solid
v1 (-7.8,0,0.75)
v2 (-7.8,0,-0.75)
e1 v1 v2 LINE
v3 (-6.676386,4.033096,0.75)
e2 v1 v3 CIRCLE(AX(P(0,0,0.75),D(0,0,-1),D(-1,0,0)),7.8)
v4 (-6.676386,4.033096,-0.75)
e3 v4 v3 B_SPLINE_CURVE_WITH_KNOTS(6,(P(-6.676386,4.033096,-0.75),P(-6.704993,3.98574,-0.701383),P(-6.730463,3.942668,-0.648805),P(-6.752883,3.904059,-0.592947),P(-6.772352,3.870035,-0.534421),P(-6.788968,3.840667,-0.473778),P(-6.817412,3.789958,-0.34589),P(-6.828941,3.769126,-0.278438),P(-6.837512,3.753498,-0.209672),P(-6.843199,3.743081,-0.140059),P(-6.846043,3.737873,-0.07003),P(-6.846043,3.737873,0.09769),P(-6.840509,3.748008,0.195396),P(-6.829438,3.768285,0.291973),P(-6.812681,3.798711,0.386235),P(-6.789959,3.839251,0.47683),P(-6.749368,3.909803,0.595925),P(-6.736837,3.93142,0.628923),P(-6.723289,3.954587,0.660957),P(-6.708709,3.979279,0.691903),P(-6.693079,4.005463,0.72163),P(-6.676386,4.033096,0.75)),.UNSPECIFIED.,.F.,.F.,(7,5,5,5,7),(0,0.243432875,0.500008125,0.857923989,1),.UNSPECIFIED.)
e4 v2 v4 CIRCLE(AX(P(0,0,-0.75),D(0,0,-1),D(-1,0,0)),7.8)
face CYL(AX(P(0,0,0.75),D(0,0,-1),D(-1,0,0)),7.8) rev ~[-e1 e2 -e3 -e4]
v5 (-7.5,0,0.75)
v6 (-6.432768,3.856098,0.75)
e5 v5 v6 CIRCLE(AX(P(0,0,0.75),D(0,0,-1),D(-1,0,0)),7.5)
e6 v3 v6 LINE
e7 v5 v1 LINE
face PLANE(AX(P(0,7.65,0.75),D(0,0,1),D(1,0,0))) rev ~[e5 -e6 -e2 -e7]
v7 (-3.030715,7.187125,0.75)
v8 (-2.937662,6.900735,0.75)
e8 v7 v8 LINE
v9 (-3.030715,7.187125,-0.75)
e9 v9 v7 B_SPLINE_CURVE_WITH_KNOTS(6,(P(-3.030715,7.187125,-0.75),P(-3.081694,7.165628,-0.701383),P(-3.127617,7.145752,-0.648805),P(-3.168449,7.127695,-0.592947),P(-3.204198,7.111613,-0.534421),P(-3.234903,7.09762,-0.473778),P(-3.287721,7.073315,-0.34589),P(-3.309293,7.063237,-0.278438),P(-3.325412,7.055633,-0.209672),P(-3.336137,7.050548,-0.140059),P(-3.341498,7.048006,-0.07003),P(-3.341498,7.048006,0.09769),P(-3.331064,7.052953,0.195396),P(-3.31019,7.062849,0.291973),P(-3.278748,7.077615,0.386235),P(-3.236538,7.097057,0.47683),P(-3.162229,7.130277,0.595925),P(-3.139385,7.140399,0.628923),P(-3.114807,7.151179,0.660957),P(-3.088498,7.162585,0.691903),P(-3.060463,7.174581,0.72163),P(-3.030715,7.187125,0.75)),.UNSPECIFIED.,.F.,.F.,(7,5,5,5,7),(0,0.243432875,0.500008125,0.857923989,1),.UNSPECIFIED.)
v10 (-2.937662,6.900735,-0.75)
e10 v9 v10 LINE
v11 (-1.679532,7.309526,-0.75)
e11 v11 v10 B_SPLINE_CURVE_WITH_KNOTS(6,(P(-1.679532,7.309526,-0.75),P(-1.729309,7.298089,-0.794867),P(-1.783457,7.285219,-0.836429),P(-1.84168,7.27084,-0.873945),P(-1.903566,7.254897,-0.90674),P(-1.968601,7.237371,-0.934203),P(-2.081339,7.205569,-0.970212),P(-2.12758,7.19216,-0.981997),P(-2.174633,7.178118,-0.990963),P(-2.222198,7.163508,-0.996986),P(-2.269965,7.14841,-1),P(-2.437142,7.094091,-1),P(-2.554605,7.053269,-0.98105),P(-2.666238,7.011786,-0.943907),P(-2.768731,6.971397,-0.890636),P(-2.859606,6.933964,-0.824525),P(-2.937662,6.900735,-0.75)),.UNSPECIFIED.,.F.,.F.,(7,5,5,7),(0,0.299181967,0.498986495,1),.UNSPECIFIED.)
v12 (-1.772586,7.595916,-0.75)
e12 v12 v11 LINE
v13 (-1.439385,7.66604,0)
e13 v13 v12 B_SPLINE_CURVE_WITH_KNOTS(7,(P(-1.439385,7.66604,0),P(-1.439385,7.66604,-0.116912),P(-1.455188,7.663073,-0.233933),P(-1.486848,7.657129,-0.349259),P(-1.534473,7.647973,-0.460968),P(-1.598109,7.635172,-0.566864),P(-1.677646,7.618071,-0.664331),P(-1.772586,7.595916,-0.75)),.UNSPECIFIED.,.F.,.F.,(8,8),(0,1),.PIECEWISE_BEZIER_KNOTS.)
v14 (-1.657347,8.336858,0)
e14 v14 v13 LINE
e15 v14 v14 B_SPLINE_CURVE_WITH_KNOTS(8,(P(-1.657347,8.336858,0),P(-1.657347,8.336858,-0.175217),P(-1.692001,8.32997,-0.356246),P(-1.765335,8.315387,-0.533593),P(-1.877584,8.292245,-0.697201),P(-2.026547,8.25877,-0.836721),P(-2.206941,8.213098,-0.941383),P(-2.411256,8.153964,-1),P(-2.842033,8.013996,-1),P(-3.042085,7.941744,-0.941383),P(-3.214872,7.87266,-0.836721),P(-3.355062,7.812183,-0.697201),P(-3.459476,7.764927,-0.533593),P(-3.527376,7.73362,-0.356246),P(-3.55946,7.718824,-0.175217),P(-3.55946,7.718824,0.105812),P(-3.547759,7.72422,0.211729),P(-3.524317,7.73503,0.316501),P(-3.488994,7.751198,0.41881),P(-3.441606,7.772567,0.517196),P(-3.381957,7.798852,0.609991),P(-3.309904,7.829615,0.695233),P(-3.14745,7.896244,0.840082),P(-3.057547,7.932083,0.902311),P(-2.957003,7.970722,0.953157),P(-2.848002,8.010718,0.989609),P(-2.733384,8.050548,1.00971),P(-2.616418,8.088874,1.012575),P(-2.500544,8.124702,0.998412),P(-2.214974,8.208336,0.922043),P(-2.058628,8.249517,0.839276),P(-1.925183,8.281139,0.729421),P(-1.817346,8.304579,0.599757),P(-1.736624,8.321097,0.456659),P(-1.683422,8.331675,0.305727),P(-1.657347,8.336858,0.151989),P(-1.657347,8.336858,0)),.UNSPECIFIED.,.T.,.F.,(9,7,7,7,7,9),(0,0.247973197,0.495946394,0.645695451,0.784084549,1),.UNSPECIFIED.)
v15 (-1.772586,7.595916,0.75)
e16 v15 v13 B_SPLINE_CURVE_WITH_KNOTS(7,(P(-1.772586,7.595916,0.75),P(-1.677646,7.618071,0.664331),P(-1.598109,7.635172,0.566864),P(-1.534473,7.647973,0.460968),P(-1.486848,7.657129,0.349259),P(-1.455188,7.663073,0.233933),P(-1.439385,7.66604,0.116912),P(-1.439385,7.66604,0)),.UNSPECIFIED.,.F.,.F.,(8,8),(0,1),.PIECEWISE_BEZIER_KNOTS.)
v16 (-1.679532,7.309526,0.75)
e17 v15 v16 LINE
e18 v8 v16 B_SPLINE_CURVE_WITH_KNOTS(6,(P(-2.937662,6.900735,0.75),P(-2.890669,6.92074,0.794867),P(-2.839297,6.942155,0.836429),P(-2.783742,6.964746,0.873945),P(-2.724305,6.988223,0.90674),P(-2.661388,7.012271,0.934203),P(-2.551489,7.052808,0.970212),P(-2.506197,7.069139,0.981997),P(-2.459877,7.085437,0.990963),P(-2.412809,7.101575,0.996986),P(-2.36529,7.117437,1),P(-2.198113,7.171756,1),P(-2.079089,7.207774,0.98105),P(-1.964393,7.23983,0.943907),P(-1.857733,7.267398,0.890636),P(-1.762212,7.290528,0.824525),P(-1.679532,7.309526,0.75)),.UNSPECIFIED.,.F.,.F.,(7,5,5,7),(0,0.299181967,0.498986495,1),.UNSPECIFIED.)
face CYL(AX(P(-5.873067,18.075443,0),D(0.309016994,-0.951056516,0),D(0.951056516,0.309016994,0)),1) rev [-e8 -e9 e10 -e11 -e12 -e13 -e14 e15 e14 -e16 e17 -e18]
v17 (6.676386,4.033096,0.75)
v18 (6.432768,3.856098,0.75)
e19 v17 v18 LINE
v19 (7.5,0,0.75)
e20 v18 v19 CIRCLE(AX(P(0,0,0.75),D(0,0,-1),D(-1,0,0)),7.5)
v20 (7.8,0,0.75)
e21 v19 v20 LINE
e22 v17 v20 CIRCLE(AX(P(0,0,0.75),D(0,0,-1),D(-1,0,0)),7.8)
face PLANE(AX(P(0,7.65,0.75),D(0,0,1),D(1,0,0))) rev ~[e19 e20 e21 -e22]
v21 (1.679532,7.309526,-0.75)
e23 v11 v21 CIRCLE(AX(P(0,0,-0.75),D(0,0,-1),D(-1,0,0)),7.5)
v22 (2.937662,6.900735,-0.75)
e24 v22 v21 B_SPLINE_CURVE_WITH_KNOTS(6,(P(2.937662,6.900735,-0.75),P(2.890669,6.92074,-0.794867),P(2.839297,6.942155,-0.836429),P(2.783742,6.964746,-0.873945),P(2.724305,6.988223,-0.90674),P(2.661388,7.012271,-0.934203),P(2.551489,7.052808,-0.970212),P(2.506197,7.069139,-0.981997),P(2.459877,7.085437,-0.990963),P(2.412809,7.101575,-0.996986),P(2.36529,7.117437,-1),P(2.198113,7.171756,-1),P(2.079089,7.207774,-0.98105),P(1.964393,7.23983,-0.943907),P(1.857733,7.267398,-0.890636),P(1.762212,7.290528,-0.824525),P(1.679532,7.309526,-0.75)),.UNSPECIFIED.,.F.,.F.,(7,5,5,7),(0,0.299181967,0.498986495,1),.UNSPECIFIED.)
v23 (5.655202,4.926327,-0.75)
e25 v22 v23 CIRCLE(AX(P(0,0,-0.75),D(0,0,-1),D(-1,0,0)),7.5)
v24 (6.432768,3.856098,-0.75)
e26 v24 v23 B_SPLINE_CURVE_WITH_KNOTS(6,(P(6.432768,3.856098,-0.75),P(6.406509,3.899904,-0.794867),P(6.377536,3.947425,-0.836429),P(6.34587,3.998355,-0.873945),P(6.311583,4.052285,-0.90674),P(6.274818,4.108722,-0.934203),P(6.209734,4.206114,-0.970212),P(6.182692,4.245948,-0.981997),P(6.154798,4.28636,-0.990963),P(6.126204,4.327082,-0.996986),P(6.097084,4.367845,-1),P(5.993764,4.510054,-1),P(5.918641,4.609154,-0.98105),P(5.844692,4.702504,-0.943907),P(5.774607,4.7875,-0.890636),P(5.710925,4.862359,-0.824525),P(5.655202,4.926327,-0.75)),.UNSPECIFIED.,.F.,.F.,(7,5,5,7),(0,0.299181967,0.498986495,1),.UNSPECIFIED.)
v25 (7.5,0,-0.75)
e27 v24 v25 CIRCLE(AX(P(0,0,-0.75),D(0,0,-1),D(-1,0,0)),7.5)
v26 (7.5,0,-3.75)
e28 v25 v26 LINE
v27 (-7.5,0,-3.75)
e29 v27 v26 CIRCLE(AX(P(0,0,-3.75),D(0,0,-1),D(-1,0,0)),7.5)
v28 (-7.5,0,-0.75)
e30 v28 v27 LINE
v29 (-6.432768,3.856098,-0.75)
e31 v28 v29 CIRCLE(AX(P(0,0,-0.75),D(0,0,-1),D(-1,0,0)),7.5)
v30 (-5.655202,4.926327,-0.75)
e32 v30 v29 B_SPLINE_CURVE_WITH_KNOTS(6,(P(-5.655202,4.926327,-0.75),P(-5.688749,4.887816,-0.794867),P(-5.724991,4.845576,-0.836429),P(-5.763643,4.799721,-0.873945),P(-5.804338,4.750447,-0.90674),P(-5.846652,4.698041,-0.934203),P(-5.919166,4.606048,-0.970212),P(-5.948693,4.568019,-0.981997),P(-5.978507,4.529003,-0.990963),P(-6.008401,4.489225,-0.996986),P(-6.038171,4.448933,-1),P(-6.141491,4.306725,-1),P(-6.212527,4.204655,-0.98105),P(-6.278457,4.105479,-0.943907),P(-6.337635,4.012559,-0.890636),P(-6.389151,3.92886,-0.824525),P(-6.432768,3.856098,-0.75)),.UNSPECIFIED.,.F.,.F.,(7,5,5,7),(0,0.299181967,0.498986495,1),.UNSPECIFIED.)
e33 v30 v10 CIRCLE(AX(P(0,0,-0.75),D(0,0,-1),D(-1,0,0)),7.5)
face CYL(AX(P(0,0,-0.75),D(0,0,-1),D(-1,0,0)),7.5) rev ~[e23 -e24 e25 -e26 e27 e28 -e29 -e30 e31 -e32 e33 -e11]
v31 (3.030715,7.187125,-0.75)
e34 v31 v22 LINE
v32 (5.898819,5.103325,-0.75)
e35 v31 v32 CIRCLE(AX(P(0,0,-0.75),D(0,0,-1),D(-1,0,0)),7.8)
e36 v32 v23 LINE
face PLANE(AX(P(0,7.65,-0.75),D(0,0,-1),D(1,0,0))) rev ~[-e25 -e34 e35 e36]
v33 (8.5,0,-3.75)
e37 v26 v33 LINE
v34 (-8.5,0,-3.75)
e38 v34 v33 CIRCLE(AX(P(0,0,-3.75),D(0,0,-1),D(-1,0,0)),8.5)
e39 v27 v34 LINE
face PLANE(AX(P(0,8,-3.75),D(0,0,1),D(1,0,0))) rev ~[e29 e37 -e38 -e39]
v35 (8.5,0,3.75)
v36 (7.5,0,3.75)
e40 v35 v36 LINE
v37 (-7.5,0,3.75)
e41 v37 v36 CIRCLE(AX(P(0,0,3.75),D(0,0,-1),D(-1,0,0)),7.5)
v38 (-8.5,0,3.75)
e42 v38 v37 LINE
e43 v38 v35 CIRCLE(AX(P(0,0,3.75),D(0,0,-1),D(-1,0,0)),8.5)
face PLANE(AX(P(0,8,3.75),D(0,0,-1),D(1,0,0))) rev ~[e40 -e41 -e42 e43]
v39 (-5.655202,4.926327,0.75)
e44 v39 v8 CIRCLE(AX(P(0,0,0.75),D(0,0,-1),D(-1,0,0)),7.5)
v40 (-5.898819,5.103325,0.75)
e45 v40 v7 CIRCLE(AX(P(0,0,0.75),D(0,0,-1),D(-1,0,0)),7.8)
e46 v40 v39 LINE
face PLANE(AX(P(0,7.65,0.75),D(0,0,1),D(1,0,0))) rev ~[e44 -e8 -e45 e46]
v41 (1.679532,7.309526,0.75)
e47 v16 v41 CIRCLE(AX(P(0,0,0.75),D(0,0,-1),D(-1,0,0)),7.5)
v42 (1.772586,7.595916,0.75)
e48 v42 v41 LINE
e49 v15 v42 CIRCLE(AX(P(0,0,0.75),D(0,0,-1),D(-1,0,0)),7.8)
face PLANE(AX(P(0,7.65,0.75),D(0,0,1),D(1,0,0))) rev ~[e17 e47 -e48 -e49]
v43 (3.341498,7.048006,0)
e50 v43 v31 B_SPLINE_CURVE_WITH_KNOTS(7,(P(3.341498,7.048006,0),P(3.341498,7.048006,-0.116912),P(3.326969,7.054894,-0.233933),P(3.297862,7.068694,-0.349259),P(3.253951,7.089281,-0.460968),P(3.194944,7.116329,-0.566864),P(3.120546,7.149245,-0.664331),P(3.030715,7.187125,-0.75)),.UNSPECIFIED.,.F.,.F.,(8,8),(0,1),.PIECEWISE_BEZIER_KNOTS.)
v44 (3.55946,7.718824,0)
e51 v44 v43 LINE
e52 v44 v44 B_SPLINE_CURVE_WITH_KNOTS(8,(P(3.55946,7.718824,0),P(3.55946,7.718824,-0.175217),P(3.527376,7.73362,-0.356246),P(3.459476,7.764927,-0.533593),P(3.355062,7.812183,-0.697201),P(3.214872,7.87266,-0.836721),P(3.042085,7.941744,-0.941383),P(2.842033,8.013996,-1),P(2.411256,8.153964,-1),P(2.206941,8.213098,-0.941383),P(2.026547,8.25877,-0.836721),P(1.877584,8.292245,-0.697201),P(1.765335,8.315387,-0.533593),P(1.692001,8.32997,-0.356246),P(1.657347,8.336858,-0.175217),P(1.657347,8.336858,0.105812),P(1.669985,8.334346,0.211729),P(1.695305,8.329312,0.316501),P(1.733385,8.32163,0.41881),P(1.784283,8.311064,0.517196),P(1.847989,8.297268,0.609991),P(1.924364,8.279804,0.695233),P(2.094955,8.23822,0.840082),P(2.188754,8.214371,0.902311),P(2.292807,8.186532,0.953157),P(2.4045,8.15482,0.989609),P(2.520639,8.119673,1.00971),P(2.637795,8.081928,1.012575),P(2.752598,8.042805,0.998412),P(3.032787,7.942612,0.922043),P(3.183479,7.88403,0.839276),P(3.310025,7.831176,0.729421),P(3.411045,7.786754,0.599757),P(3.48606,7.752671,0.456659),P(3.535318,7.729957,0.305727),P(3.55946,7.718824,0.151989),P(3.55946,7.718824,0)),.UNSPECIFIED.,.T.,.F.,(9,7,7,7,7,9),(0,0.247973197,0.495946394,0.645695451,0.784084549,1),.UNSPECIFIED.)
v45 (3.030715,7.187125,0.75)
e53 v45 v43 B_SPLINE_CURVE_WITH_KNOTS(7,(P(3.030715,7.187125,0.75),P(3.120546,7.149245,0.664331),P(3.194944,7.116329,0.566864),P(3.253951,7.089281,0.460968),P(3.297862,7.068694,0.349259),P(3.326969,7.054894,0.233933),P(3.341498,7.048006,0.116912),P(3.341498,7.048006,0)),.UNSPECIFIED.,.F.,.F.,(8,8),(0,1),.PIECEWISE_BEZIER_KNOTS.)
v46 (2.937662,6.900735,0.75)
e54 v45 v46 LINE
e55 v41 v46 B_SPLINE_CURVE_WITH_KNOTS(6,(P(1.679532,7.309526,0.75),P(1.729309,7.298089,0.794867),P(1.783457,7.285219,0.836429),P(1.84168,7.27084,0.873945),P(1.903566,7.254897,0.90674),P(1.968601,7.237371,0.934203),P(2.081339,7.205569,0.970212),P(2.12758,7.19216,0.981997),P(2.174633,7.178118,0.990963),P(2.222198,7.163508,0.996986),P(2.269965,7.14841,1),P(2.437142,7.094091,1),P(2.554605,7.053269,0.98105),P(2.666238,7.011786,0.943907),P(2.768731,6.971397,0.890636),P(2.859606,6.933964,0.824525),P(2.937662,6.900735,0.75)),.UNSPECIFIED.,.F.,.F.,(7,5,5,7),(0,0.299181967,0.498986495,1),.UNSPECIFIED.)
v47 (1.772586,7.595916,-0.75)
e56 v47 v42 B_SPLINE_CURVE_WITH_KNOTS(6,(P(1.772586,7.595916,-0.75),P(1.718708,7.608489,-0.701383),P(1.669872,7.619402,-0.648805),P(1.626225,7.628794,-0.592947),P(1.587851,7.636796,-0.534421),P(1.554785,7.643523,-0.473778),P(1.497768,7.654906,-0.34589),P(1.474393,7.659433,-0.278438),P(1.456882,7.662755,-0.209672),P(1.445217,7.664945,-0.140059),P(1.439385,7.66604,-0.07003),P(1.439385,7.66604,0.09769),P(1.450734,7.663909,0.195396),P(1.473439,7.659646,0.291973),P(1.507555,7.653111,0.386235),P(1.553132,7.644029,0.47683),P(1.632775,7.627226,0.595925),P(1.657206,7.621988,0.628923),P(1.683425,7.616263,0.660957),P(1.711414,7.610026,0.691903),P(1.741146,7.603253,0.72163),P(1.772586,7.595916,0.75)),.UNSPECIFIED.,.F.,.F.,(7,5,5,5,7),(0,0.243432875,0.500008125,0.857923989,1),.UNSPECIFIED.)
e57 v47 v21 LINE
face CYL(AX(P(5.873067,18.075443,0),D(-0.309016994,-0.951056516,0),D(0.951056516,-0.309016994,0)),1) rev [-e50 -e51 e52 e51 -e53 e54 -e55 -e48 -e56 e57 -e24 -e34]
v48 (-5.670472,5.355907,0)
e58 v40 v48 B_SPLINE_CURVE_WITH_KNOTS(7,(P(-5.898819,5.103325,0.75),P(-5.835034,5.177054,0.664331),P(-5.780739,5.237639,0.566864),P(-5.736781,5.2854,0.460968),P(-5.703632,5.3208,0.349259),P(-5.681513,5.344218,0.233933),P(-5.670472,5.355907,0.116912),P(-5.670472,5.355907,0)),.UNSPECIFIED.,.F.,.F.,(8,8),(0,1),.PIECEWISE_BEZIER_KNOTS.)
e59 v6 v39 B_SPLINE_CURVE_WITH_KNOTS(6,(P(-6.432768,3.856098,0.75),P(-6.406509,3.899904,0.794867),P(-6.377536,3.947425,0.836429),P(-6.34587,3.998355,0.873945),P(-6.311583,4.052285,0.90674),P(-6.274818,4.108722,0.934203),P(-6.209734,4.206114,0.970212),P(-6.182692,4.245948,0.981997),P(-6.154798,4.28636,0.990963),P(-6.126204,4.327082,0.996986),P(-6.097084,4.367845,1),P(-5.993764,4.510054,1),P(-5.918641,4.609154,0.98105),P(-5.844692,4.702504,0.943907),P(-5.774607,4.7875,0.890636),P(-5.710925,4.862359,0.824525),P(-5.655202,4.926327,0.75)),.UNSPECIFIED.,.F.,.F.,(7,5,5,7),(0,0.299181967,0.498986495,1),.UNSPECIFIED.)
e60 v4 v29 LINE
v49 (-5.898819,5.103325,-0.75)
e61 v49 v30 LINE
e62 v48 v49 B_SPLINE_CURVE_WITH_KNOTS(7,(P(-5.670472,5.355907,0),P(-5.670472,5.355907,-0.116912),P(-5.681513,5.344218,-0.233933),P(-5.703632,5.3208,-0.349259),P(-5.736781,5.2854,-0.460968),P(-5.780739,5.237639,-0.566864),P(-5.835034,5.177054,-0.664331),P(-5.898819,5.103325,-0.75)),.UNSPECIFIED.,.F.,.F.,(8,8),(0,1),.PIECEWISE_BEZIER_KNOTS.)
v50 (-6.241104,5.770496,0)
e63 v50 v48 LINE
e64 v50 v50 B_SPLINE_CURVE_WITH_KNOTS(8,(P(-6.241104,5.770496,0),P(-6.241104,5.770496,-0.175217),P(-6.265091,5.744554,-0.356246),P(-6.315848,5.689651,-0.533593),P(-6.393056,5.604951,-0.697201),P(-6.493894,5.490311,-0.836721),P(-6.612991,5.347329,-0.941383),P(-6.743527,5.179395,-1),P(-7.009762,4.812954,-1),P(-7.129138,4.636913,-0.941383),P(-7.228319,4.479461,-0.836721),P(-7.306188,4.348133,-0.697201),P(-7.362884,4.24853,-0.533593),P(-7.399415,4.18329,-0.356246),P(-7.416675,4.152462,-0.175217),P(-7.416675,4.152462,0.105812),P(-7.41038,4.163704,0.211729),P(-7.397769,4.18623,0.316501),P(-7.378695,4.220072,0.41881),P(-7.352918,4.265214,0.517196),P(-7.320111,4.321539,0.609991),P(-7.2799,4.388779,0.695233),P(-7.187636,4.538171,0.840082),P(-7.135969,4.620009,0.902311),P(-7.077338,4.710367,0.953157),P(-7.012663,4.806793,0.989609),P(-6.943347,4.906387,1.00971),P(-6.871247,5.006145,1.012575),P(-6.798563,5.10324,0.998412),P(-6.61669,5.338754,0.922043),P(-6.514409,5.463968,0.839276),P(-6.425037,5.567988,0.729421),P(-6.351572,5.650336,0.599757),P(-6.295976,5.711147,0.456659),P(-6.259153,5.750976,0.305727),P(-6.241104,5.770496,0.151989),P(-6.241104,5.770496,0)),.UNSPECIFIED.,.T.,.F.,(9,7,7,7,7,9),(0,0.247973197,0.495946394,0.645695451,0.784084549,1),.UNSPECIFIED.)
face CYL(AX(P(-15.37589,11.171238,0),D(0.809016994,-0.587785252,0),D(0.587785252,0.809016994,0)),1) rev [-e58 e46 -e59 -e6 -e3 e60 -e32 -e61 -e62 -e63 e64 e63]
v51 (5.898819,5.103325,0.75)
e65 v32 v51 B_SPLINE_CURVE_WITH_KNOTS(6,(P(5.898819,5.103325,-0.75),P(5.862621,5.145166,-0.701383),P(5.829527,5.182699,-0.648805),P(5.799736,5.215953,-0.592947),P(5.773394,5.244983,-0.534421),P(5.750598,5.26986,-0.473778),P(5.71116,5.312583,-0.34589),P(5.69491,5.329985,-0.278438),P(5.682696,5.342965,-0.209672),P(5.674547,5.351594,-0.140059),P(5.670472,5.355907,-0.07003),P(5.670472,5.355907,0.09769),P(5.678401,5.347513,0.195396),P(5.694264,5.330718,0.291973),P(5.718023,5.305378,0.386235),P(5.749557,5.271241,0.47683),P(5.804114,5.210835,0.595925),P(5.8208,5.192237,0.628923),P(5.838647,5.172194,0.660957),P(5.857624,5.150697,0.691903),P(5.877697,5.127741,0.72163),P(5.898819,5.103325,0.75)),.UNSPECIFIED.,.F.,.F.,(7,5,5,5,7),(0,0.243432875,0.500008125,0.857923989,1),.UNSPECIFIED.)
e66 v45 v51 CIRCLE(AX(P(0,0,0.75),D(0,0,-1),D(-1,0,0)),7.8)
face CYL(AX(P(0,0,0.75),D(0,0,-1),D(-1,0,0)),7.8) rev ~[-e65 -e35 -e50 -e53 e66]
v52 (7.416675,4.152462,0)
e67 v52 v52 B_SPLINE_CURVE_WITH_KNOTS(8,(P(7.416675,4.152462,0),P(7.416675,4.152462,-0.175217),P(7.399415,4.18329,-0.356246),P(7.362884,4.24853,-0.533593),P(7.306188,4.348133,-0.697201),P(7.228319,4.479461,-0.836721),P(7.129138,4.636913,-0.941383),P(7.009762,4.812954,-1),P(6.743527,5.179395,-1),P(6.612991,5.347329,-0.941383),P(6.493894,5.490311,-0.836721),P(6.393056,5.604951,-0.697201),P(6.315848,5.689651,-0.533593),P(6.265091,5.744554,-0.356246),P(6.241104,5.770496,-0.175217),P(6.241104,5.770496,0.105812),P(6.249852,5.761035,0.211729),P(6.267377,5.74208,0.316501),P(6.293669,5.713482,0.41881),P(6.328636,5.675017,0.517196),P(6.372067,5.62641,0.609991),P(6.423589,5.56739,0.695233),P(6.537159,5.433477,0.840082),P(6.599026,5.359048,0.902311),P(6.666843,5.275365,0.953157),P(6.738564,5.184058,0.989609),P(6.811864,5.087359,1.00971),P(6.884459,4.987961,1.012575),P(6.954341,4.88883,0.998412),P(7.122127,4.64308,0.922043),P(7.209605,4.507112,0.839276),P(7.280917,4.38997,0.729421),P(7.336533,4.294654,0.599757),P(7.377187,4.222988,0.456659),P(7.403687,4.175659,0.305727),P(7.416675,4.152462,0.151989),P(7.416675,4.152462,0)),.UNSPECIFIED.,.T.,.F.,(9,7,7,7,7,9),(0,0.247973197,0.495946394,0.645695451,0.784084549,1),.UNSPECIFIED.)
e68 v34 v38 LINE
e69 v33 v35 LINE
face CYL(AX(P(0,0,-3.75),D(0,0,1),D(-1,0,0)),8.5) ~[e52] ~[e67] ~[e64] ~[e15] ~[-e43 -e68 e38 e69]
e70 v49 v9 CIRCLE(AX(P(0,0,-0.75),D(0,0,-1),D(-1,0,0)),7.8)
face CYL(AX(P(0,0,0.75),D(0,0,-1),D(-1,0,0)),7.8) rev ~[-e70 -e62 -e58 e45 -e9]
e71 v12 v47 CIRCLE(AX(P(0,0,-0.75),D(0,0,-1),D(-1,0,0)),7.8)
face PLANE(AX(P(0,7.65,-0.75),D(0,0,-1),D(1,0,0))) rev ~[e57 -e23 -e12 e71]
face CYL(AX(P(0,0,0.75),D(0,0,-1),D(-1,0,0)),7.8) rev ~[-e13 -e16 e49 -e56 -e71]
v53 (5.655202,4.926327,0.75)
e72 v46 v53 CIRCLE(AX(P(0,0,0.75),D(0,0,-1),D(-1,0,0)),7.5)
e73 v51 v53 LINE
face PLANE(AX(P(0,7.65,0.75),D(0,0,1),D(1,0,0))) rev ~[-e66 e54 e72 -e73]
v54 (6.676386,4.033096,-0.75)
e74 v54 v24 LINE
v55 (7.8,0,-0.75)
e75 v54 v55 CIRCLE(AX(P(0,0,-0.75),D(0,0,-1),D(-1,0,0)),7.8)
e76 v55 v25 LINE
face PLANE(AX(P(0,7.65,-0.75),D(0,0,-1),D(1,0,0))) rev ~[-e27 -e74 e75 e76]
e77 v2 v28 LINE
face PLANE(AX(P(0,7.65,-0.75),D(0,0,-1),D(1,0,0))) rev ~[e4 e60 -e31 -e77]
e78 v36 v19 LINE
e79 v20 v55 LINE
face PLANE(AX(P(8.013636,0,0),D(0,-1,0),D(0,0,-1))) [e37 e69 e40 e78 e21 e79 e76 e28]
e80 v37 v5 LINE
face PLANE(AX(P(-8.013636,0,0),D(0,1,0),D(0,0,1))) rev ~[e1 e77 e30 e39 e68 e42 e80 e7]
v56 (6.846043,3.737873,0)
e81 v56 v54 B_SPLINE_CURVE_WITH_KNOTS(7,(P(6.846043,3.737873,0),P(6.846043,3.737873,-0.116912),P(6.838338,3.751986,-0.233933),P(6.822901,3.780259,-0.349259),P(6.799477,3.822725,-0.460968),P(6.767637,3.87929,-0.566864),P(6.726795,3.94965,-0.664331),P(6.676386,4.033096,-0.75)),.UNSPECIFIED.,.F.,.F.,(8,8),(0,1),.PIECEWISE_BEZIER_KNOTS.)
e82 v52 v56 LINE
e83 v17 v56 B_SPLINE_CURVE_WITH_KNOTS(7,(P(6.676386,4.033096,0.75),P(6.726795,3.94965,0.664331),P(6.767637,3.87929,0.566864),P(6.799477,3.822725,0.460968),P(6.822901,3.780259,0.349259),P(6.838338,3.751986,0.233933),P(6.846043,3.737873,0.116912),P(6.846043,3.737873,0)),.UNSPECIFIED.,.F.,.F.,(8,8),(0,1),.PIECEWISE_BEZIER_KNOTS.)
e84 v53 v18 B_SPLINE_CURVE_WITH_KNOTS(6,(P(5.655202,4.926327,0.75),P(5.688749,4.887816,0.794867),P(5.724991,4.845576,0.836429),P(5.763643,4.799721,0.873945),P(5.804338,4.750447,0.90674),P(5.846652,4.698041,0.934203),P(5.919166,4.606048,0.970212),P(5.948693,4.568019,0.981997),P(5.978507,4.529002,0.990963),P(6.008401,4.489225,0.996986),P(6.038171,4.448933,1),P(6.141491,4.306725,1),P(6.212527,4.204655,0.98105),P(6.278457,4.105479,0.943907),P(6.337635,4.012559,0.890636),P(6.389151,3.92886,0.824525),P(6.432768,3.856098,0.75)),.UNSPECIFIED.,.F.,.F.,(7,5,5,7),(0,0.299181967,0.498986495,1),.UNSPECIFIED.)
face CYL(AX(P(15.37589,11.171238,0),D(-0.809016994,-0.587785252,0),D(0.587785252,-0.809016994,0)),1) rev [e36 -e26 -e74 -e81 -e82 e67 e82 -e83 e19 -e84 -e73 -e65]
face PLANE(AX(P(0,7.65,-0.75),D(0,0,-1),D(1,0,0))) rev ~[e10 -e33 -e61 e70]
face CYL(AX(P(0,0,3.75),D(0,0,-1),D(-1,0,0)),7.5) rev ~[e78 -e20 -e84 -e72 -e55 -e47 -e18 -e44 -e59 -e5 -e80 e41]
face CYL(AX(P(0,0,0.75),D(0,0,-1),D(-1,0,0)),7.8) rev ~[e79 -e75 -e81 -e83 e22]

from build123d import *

# Parameters (mm, degrees)
CIRPATTERN1_COUNT = 4
CIRPATTERN1_ANGLE = 108


with BuildPart() as part:
    # Sweep1: sweep along a path in Sketch1
    with BuildLine(Plane.XY) as sweep1_path:
        ThreePointArc((-8.5, 0), (0, 8.5), (8.5, 0))
    # Sketch2 → Sweep1 (sweep)
    with BuildSketch(Plane(origin=(0, 0, 0), x_dir=(1, 0, 0), z_dir=(0, 1, 0))):
        Polygon((-7.5, -3.75), (-7.5, -0.75), (-7.8, -0.75), (-7.8, 0.75), (-7.5, 0.75), (-7.5, 3.75), (-8.5, 3.75), (-8.5, -3.75), align=None)
    sweep(path=sweep1_path.line)

    # Sketch3 → Cut-Revolve1 (revolve, cut)
    with BuildSketch(Plane.XY):
        Polygon((4.938511893, 3.588038915), (15.375889989, 11.171237983), (15.963675241, 10.362220989), (5.526297145, 2.779021921), align=None)
    cut_revolve1 = revolve(axis=Axis((4.938511893, 3.588038915, 0), (0.8090169943749489, 0.5877852522924712, 0)), mode=Mode.SUBTRACT)

    # CirPattern1: Cut-Revolve1 ×4 about axis
    cirpattern1_axis = Axis((0, 0, -11.55), (0, 0, 1))
    for i in range(1, CIRPATTERN1_COUNT):
        add(cut_revolve1.rotate(cirpattern1_axis, i * CIRPATTERN1_ANGLE / (CIRPATTERN1_COUNT - 1)), mode=Mode.SUBTRACT)


solid = part.part
